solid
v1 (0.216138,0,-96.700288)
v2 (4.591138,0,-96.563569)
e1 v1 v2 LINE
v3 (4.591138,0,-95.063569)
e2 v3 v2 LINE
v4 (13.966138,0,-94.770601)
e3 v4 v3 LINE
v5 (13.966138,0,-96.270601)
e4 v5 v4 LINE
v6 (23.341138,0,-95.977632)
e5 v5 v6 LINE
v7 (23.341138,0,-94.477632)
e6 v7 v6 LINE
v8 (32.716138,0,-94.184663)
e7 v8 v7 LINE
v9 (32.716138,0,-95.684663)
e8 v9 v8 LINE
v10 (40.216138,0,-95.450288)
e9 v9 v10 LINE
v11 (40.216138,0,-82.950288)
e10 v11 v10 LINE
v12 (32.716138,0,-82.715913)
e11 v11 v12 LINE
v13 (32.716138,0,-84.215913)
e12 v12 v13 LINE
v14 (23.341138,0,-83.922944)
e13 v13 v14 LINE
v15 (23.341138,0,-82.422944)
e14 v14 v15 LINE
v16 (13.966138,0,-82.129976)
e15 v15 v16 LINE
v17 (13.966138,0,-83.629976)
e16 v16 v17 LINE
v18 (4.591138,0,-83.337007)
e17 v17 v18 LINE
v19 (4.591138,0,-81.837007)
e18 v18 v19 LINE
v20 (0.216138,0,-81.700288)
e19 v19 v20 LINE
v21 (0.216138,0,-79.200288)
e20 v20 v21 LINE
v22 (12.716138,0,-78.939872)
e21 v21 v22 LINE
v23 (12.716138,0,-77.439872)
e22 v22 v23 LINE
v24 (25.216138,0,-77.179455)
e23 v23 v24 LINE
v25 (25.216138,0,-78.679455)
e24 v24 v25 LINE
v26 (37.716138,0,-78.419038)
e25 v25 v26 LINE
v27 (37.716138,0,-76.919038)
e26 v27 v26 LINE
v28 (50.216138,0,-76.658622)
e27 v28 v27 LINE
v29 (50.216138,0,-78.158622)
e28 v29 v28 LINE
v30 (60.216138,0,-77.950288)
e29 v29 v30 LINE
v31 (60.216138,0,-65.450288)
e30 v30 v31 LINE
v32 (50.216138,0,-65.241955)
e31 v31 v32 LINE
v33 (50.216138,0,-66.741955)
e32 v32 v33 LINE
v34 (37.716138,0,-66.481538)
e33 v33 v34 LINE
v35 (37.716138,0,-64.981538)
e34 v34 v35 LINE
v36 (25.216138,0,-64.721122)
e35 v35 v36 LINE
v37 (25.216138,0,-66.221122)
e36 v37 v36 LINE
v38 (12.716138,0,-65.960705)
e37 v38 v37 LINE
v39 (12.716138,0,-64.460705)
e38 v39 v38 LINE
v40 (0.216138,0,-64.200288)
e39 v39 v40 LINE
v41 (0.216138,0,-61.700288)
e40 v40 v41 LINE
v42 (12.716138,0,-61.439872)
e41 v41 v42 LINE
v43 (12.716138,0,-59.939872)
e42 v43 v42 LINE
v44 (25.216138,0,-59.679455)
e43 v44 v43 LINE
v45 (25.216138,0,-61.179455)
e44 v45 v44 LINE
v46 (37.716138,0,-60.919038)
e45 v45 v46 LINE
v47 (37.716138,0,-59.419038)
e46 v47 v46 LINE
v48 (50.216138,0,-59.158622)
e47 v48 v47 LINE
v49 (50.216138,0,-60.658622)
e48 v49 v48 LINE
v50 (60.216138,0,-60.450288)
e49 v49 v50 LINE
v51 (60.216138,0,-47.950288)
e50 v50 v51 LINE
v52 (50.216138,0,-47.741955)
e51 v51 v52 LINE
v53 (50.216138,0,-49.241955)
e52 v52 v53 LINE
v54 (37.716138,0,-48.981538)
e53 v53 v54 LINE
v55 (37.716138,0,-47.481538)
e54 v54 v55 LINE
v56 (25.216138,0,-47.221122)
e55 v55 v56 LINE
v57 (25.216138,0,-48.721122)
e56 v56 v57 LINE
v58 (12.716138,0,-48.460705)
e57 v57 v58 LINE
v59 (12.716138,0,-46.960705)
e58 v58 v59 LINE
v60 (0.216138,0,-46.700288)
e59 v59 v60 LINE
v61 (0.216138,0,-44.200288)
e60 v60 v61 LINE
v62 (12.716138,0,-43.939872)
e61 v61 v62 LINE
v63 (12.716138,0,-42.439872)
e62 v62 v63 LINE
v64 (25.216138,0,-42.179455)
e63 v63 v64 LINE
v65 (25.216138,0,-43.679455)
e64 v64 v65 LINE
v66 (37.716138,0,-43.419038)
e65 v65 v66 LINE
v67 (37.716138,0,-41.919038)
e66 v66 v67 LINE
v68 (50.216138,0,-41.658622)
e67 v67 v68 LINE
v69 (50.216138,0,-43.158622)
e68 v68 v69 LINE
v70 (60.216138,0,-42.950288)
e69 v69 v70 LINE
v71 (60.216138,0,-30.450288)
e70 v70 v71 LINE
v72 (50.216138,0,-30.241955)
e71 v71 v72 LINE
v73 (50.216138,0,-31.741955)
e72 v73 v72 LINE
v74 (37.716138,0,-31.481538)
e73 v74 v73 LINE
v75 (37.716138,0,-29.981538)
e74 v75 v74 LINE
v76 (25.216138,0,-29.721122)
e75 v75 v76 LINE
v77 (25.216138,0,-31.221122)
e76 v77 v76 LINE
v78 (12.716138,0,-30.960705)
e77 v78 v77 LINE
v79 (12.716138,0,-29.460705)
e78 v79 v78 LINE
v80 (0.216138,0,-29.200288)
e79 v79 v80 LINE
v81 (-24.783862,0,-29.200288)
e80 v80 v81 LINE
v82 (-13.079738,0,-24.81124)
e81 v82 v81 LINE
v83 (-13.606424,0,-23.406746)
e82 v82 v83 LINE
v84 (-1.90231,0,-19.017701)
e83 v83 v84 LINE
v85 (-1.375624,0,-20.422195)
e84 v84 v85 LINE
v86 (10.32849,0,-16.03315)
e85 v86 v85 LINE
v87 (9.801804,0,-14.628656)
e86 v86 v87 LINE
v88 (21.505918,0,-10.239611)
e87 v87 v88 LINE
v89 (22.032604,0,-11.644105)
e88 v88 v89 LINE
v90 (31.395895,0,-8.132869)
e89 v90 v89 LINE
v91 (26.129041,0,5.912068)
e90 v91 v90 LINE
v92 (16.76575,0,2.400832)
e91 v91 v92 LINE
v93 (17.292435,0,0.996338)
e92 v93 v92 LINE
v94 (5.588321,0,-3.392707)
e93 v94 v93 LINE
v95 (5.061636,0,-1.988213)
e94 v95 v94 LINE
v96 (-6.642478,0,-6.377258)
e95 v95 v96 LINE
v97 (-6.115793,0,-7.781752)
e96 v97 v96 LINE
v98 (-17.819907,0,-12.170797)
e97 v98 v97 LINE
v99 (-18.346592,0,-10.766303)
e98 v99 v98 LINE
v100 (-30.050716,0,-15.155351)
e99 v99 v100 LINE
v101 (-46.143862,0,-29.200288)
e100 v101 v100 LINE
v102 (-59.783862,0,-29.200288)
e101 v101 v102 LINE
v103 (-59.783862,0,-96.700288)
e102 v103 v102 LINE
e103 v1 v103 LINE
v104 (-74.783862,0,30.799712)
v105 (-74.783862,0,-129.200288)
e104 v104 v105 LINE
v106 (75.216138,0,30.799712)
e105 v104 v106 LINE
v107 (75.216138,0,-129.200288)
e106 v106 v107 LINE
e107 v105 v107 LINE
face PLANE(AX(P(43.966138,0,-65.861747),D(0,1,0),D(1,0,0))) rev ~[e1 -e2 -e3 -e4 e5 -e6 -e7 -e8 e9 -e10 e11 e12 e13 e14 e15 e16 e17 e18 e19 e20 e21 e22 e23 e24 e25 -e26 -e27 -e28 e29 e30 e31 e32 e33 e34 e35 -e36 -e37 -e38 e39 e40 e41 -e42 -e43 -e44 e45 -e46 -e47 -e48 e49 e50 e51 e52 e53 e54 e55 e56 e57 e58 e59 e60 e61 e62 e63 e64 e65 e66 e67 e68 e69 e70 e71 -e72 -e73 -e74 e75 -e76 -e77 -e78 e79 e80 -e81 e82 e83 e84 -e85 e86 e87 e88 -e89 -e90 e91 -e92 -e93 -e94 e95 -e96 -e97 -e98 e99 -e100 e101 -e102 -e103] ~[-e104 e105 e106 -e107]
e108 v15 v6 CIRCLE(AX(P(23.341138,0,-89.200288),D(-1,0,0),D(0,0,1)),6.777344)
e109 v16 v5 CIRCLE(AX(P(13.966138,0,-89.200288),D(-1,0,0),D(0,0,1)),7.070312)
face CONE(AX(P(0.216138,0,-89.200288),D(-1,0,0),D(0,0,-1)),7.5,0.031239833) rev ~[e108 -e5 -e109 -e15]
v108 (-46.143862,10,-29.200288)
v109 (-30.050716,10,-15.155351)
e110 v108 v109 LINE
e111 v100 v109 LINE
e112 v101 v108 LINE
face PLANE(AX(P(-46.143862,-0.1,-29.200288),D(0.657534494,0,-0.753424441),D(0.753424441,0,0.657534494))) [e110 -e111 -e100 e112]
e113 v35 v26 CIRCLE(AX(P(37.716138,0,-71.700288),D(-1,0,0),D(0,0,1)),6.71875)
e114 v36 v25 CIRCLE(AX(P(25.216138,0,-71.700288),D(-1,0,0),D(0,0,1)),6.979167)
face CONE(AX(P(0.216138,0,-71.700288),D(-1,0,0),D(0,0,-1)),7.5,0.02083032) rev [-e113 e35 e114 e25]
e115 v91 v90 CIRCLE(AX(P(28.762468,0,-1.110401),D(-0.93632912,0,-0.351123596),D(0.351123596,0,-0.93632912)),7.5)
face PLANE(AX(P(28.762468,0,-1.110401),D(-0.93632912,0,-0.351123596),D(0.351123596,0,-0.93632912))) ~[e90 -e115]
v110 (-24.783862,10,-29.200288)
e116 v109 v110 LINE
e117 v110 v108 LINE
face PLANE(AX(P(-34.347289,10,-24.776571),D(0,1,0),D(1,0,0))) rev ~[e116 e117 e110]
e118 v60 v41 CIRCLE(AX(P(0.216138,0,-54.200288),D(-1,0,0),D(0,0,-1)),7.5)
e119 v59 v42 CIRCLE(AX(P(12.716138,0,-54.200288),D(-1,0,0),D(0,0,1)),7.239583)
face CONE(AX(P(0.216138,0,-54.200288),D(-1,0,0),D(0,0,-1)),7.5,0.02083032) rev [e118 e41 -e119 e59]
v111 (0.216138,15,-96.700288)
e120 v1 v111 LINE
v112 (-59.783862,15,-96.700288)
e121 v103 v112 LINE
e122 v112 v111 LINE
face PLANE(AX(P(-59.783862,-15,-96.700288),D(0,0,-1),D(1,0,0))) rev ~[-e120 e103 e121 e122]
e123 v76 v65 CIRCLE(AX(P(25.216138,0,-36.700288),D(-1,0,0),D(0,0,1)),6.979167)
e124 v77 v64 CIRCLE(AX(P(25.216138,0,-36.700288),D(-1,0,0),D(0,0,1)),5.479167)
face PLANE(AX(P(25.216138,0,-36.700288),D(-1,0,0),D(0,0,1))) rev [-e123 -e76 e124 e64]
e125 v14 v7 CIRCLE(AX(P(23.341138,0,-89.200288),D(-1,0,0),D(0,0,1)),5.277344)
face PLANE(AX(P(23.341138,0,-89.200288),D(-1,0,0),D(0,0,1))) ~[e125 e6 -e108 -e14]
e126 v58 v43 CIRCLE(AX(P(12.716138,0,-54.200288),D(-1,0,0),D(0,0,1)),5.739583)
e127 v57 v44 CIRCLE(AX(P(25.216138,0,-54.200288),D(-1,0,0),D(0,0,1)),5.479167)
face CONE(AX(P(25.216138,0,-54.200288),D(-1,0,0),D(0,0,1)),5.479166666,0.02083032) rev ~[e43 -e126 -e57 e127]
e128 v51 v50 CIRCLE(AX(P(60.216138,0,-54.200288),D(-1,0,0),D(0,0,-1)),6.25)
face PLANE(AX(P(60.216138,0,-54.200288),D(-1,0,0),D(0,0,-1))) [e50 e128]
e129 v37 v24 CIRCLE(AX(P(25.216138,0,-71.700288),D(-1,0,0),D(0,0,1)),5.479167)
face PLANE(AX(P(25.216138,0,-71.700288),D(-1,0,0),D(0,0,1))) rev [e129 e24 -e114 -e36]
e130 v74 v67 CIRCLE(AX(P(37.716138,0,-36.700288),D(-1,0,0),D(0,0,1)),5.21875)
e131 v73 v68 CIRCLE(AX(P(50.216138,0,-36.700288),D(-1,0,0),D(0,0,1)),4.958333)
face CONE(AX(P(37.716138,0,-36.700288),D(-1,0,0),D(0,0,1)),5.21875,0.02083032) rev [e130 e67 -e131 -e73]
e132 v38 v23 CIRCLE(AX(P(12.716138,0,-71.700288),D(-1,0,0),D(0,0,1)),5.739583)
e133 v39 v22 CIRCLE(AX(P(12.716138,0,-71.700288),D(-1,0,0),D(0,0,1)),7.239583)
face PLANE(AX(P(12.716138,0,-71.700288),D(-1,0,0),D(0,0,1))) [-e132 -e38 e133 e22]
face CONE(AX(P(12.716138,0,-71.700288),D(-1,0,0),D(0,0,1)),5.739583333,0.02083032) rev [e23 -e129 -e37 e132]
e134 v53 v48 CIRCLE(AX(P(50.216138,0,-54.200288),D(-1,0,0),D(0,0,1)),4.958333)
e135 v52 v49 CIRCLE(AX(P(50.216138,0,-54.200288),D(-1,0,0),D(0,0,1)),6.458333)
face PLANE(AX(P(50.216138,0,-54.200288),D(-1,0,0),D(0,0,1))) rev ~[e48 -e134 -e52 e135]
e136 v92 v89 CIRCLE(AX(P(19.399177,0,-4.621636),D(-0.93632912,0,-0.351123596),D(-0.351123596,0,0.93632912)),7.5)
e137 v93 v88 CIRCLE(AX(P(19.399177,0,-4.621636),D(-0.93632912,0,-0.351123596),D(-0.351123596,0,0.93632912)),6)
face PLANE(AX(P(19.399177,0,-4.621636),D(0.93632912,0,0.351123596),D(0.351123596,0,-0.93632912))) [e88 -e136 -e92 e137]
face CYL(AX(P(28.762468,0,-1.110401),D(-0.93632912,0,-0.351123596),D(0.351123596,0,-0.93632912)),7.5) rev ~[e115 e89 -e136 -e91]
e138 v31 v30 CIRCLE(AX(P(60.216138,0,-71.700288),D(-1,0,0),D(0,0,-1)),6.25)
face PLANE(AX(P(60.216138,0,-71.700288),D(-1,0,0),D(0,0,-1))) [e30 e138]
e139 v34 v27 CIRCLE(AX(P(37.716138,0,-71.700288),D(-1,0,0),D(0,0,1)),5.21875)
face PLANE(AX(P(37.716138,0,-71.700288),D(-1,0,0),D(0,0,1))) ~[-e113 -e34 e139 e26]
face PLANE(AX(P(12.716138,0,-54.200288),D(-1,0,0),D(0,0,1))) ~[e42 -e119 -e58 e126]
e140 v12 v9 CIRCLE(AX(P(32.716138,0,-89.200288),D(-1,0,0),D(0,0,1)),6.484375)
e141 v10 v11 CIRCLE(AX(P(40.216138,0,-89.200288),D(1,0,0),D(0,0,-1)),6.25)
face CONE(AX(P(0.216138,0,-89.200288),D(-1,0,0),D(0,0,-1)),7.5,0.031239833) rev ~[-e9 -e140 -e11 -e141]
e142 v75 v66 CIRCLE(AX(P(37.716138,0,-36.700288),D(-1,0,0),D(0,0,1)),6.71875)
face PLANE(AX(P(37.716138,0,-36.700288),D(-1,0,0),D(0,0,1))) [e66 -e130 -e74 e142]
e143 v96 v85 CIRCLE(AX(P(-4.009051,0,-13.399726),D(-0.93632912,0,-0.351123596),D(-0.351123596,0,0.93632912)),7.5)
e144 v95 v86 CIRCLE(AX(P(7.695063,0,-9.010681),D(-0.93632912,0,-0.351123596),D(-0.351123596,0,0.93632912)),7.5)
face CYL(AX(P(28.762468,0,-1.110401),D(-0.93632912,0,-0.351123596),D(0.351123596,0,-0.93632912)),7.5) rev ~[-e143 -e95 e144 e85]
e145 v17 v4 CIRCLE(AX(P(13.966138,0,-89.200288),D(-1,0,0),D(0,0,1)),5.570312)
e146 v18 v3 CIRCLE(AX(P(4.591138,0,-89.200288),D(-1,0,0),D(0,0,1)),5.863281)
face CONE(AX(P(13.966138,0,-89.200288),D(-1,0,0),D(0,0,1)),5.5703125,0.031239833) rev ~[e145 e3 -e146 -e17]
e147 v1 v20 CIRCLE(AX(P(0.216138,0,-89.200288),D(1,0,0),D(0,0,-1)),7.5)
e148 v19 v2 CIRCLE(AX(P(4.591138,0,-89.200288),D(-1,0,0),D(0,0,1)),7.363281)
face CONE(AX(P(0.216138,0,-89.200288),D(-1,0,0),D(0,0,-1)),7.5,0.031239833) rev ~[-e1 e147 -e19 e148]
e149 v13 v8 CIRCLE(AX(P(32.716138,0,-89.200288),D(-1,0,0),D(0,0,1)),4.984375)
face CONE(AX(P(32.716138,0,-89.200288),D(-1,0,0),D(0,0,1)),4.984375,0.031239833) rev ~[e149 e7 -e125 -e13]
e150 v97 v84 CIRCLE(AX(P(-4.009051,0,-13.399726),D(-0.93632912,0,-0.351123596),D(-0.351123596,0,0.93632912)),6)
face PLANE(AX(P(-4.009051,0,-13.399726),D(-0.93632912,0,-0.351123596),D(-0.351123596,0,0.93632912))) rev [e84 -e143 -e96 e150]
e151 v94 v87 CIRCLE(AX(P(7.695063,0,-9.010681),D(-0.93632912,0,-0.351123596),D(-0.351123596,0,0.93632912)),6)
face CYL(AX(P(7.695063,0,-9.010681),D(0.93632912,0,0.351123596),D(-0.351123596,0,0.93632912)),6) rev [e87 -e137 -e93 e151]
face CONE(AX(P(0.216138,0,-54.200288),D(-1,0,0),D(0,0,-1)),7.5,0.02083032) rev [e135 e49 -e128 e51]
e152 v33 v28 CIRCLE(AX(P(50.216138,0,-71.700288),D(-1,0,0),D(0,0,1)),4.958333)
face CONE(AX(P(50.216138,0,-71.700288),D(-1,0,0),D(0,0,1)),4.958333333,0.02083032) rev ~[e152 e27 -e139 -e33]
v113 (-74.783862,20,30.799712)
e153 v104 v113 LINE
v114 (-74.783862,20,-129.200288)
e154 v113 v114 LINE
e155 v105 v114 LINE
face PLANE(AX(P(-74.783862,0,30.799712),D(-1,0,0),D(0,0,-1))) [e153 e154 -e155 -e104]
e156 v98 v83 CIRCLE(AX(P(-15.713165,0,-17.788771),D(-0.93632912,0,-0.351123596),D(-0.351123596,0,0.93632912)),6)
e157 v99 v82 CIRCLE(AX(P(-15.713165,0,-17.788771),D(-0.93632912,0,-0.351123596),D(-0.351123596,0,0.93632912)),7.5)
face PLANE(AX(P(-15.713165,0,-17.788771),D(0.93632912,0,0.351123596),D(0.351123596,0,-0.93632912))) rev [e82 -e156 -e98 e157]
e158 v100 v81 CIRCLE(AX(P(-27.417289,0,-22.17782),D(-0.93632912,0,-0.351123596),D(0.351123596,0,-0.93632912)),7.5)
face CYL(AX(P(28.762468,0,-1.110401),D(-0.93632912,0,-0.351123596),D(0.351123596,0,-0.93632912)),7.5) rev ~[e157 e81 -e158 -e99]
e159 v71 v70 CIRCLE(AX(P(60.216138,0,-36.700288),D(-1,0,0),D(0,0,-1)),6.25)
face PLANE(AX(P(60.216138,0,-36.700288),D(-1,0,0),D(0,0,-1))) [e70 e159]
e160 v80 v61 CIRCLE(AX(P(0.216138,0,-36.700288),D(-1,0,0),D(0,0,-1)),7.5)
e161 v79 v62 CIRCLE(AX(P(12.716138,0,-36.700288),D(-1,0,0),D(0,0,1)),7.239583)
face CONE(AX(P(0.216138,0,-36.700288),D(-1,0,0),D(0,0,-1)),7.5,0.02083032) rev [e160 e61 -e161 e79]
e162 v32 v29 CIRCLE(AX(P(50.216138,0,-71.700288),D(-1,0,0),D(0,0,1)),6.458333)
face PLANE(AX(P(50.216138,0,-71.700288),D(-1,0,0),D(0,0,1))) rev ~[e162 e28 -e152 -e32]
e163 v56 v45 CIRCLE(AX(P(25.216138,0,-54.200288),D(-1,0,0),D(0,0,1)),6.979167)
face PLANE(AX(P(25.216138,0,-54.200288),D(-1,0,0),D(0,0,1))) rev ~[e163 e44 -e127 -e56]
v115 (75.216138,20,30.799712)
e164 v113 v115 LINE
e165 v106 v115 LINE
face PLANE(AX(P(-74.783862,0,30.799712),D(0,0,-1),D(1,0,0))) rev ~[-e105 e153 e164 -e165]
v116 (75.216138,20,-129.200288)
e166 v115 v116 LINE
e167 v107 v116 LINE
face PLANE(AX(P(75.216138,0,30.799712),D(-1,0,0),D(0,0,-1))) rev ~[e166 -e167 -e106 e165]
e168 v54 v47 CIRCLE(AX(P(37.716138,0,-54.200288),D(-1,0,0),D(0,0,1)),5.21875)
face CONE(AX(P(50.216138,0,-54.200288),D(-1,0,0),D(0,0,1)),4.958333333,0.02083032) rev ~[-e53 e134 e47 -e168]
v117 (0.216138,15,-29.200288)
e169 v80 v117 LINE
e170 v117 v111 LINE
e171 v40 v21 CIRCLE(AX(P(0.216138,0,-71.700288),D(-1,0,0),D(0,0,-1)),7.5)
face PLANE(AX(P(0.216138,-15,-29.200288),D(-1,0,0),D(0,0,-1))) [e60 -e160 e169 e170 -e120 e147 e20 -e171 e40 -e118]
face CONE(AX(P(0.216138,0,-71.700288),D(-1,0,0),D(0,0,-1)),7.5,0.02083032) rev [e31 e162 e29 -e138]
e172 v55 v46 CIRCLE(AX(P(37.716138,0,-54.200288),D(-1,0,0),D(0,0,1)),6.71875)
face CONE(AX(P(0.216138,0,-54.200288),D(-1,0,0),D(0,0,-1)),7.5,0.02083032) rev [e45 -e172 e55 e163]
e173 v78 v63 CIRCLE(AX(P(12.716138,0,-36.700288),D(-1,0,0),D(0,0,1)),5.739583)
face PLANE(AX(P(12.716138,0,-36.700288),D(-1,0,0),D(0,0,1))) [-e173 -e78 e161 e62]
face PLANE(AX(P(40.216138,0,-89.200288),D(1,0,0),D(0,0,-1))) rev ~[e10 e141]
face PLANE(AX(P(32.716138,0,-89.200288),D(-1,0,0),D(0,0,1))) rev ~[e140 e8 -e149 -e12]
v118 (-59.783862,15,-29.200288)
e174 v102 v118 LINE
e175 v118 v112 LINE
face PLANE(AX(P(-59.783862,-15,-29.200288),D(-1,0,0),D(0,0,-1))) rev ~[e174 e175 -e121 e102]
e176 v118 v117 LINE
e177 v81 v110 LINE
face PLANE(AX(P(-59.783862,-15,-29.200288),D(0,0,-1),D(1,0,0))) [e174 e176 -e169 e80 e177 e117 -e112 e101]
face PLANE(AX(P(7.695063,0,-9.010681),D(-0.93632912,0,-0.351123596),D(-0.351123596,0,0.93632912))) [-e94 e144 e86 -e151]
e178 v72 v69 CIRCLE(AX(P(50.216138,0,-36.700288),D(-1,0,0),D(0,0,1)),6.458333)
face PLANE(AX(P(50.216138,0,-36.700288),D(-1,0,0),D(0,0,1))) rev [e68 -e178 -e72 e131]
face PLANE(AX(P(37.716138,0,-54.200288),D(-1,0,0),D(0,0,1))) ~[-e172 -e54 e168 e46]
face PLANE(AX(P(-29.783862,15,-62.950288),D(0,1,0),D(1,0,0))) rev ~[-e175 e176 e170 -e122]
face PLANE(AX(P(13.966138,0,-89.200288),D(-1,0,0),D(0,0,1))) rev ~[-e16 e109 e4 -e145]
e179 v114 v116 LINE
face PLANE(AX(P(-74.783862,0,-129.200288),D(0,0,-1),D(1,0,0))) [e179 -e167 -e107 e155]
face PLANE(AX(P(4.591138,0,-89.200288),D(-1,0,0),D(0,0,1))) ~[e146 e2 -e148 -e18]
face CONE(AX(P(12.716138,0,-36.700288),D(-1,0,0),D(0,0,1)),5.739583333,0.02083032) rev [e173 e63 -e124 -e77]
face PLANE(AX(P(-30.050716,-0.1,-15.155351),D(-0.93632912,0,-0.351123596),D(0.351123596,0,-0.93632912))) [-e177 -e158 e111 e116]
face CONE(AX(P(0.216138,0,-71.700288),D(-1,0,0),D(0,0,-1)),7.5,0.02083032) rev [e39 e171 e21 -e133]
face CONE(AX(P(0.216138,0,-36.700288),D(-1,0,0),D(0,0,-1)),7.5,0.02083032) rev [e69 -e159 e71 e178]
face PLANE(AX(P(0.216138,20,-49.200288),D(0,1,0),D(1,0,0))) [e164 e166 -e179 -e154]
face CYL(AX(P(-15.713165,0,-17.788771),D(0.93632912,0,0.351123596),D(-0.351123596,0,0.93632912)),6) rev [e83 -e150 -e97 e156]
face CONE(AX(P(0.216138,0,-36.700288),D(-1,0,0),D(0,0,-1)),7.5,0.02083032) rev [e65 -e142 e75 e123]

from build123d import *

# Parameters (mm, degrees)
SKETCH1_W               = 150
SKETCH1_H               = 160
BOSS_EXTRUDE1_DEPTH     = 20
CUT_EXTRUDE1_DEPTH      = 15
CUT_EXTRUDE1_DEPTH_BACK = 15
SKETCH2_W               = 60
SKETCH2_H               = 67.5
CUT_EXTRUDE6_DEPTH      = 10
CUT_EXTRUDE6_DEPTH_BACK = 0.1
REVOLVE2_ANGLE          = 180
REVOLVE3_ANGLE          = 180
REVOLVE4_ANGLE          = 180
REVOLVE5_ANGLE          = 180
REVOLVE6_ANGLE          = 180
REVOLVE7_ANGLE          = 180
REVOLVE8_ANGLE          = 180
REVOLVE9_ANGLE          = 180
REVOLVE10_ANGLE         = 180
REVOLVE11_ANGLE         = 180


with BuildPart() as part:
    # Sketch1 → Boss-Extrude1 (new body)
    with BuildSketch(Plane(origin=(0, 0, 0), x_dir=(1, 0, 0), z_dir=(0, 1, 0))):
        with Locations((0.216138329, 49.200288184)):
            Rectangle(SKETCH1_W, SKETCH1_H)
    extrude(amount=BOSS_EXTRUDE1_DEPTH)

    # Sketch2 → Cut-Extrude1 (cut, two sides: drawn at the far end of the back side and taken through both)
    with BuildSketch(Plane(origin=(0, 0, 0), x_dir=(1, 0, 0), z_dir=(0, 1, 0)).offset(-CUT_EXTRUDE1_DEPTH_BACK)):
        with Locations((-29.783861671, 62.950288184)):
            Rectangle(SKETCH2_W, SKETCH2_H)
    extrude(amount=CUT_EXTRUDE1_DEPTH + CUT_EXTRUDE1_DEPTH_BACK, mode=Mode.SUBTRACT)

    # Sketch3 → Cut-Revolve1 (revolve, cut)
    with BuildSketch(Plane(origin=(0, 0, 0), x_dir=(1, 0, 0), z_dir=(0, 1, 0))):
        Polygon((0.216138329, 96.700288184), (40.216138329, 95.450288184), (40.216138329, 89.200288184), (0.216138329, 89.200288184), align=None)
    revolve(axis=Axis((0.216138329, 0, -89.200288184), (1, 0, 0)), mode=Mode.SUBTRACT)

    # Sketch4 → Cut-Revolve2 (revolve, cut)
    with BuildSketch(Plane(origin=(0, 0, 0), x_dir=(1, 0, 0), z_dir=(0, 1, 0))):
        Polygon((0.216138329, 79.200288184), (60.216138329, 77.950288184), (60.216138329, 71.700288184), (0.216138329, 71.700288184), align=None)
    revolve(axis=Axis((94.987400497, 0, -71.700288184), (-1, 0, 0)), mode=Mode.SUBTRACT)

    # Sketch6 → Cut-Revolve3 (revolve, cut)
    with BuildSketch(Plane(origin=(0, 0, 0), x_dir=(1, 0, 0), z_dir=(0, 1, 0))):
        Polygon((0.216138329, 61.700288184), (60.216138329, 60.450288184), (60.216138329, 54.200288184), (0.216138329, 54.200288184), align=None)
    revolve(axis=Axis((60.216138329, 0, -54.200288184), (-1, 0, 0)), mode=Mode.SUBTRACT)

    # Sketch7 → Cut-Revolve4 (revolve, cut)
    with BuildSketch(Plane(origin=(0, 0, 0), x_dir=(1, 0, 0), z_dir=(0, 1, 0))):
        Polygon((0.216138329, 44.200288184), (60.216138329, 42.950288184), (60.216138329, 36.700288184), (0.216138329, 36.700288184), align=None)
    revolve(axis=Axis((60.216138329, 0, -36.700288184), (-1, 0, 0)), mode=Mode.SUBTRACT)

    # Sketch11 → Cut-Revolve5 (revolve, cut)
    with BuildSketch(Plane(origin=(0, 0, 0), x_dir=(1, 0, 0), z_dir=(0, 1, 0))):
        Polygon((-46.143861671, 29.200288184), (28.762467917, 1.110400544), (31.395894883, 8.132868943), (-24.783861671, 29.200288184), align=None)
    revolve(axis=Axis((28.762467917, 0, -1.110400544), (-0.9363291198500703, 0, -0.35112359550561795)), mode=Mode.SUBTRACT)

    # Sketch13 → Cut-Extrude6 (cut, two sides: drawn at the far end of the back side and taken through both)
    with BuildSketch(Plane(origin=(0, 0, 0), x_dir=(1, 0, 0), z_dir=(0, 1, 0)).offset(-CUT_EXTRUDE6_DEPTH_BACK)):
        Polygon((-30.050715604, 15.155351387), (-24.783861671, 29.200288184), (-46.143861671, 29.200288184), align=None)
    extrude(amount=CUT_EXTRUDE6_DEPTH + CUT_EXTRUDE6_DEPTH_BACK, mode=Mode.SUBTRACT)

    # Sketch15 → Revolve2 (revolve)
    with BuildSketch(Plane(origin=(0, 0, 0), x_dir=(1, 0, 0), z_dir=(0, 1, 0))):
        Polygon((50.216138329, 30.241954851), (37.716138329, 29.981538184), (37.716138329, 31.481538184), (50.216138329, 31.741954851), align=None)
    revolve(axis=Axis((60.216138329, 0, -36.700288184), (-1, 0, 0)), revolution_arc=REVOLVE2_ANGLE)

    # Sketch16 → Revolve3 (revolve)
    with BuildSketch(Plane(origin=(0, 0, 0), x_dir=(1, 0, 0), z_dir=(0, 1, 0))):
        Polygon((25.216138329, 29.721121518), (12.716138329, 29.460704851), (12.716138329, 30.960704851), (25.216138329, 31.221121518), align=None)
    revolve(axis=Axis((60.216138329, 0, -36.700288184), (-1, 0, 0)), revolution_arc=REVOLVE3_ANGLE)

    # Sketch17 → Revolve4 (revolve)
    with BuildSketch(Plane(origin=(0, 0, 0), x_dir=(1, 0, 0), z_dir=(0, 1, 0))):
        Polygon((50.216138329, 47.741954851), (50.216138329, 49.241954851), (37.716138329, 48.981538184), (37.716138329, 47.481538184), align=None)
    revolve(axis=Axis((60.216138329, 0, -54.200288184), (-1, 0, 0)), revolution_arc=REVOLVE4_ANGLE)

    # Sketch18 → Revolve5 (revolve)
    with BuildSketch(Plane(origin=(0, 0, 0), x_dir=(1, 0, 0), z_dir=(0, 1, 0))):
        Polygon((25.216138329, 47.221121518), (25.216138329, 48.721121518), (12.716138329, 48.460704851), (12.716138329, 46.960704851), align=None)
    revolve(axis=Axis((60.216138329, 0, -54.200288184), (-1, 0, 0)), revolution_arc=REVOLVE5_ANGLE)

    # Sketch19 → Revolve6 (revolve)
    with BuildSketch(Plane(origin=(0, 0, 0), x_dir=(1, 0, 0), z_dir=(0, 1, 0))):
        Polygon((50.216138329, 65.241954851), (50.216138329, 66.741954851), (37.716138329, 66.481538184), (37.716138329, 64.981538184), align=None)
    revolve(axis=Axis((60.216138329, 0, -71.700288184), (-1, 0, 0)), revolution_arc=REVOLVE6_ANGLE)

    # Sketch20 → Revolve7 (revolve)
    with BuildSketch(Plane(origin=(0, 0, 0), x_dir=(1, 0, 0), z_dir=(0, 1, 0))):
        Polygon((25.216138329, 66.221121518), (25.216138329, 64.721121518), (12.716138329, 64.460704851), (12.716138329, 65.960704851), align=None)
    revolve(axis=Axis((60.216138329, 0, -71.700288184), (-1, 0, 0)), revolution_arc=REVOLVE7_ANGLE)

    # Sketch21 → Revolve8 (revolve)
    with BuildSketch(Plane(origin=(0, 0, 0), x_dir=(1, 0, 0), z_dir=(0, 1, 0))):
        Polygon((32.716138329, 82.715913184), (32.716138329, 84.215913184), (23.341138329, 83.922944434), (23.341138329, 82.422944434), align=None)
    revolve(axis=Axis((40.216138329, 0, -89.200288184), (-1, 0, 0)), revolution_arc=REVOLVE8_ANGLE)

    # Sketch22 → Revolve9 (revolve)
    with BuildSketch(Plane(origin=(0, 0, 0), x_dir=(1, 0, 0), z_dir=(0, 1, 0))):
        Polygon((13.966138329, 82.129975684), (13.966138329, 83.629975684), (4.591138329, 83.337006934), (4.591138329, 81.837006934), align=None)
    revolve(axis=Axis((40.216138329, 0, -89.200288184), (-1, 0, 0)), revolution_arc=REVOLVE9_ANGLE)

    # Sketch23 → Revolve10 (revolve)
    with BuildSketch(Plane(origin=(0, 0, 0), x_dir=(1, 0, 0), z_dir=(0, 1, 0))):
        Polygon((17.292435145, -0.99633822), (16.765749752, -2.4008319), (5.061635754, 1.988213044), (5.588321147, 3.392706724), align=None)
    revolve(axis=Axis((28.762467917, 0, -1.110400544), (-0.9363291198500702, 0, -0.35112359550561806)), revolution_arc=REVOLVE10_ANGLE)

    # Sketch25 → Revolve11 (revolve)
    with BuildSketch(Plane(origin=(0, 0, 0), x_dir=(1, 0, 0), z_dir=(0, 1, 0))):
        Polygon((-6.115792851, 7.781751668), (-6.642478245, 6.377257988), (-18.346592243, 10.766302932), (-17.819906849, 12.170796611), align=None)
    revolve(axis=Axis((28.762467917, 0, -1.110400544), (-0.9363291198500703, 0, -0.351123595505618)), revolution_arc=REVOLVE11_ANGLE)


solid = part.part
